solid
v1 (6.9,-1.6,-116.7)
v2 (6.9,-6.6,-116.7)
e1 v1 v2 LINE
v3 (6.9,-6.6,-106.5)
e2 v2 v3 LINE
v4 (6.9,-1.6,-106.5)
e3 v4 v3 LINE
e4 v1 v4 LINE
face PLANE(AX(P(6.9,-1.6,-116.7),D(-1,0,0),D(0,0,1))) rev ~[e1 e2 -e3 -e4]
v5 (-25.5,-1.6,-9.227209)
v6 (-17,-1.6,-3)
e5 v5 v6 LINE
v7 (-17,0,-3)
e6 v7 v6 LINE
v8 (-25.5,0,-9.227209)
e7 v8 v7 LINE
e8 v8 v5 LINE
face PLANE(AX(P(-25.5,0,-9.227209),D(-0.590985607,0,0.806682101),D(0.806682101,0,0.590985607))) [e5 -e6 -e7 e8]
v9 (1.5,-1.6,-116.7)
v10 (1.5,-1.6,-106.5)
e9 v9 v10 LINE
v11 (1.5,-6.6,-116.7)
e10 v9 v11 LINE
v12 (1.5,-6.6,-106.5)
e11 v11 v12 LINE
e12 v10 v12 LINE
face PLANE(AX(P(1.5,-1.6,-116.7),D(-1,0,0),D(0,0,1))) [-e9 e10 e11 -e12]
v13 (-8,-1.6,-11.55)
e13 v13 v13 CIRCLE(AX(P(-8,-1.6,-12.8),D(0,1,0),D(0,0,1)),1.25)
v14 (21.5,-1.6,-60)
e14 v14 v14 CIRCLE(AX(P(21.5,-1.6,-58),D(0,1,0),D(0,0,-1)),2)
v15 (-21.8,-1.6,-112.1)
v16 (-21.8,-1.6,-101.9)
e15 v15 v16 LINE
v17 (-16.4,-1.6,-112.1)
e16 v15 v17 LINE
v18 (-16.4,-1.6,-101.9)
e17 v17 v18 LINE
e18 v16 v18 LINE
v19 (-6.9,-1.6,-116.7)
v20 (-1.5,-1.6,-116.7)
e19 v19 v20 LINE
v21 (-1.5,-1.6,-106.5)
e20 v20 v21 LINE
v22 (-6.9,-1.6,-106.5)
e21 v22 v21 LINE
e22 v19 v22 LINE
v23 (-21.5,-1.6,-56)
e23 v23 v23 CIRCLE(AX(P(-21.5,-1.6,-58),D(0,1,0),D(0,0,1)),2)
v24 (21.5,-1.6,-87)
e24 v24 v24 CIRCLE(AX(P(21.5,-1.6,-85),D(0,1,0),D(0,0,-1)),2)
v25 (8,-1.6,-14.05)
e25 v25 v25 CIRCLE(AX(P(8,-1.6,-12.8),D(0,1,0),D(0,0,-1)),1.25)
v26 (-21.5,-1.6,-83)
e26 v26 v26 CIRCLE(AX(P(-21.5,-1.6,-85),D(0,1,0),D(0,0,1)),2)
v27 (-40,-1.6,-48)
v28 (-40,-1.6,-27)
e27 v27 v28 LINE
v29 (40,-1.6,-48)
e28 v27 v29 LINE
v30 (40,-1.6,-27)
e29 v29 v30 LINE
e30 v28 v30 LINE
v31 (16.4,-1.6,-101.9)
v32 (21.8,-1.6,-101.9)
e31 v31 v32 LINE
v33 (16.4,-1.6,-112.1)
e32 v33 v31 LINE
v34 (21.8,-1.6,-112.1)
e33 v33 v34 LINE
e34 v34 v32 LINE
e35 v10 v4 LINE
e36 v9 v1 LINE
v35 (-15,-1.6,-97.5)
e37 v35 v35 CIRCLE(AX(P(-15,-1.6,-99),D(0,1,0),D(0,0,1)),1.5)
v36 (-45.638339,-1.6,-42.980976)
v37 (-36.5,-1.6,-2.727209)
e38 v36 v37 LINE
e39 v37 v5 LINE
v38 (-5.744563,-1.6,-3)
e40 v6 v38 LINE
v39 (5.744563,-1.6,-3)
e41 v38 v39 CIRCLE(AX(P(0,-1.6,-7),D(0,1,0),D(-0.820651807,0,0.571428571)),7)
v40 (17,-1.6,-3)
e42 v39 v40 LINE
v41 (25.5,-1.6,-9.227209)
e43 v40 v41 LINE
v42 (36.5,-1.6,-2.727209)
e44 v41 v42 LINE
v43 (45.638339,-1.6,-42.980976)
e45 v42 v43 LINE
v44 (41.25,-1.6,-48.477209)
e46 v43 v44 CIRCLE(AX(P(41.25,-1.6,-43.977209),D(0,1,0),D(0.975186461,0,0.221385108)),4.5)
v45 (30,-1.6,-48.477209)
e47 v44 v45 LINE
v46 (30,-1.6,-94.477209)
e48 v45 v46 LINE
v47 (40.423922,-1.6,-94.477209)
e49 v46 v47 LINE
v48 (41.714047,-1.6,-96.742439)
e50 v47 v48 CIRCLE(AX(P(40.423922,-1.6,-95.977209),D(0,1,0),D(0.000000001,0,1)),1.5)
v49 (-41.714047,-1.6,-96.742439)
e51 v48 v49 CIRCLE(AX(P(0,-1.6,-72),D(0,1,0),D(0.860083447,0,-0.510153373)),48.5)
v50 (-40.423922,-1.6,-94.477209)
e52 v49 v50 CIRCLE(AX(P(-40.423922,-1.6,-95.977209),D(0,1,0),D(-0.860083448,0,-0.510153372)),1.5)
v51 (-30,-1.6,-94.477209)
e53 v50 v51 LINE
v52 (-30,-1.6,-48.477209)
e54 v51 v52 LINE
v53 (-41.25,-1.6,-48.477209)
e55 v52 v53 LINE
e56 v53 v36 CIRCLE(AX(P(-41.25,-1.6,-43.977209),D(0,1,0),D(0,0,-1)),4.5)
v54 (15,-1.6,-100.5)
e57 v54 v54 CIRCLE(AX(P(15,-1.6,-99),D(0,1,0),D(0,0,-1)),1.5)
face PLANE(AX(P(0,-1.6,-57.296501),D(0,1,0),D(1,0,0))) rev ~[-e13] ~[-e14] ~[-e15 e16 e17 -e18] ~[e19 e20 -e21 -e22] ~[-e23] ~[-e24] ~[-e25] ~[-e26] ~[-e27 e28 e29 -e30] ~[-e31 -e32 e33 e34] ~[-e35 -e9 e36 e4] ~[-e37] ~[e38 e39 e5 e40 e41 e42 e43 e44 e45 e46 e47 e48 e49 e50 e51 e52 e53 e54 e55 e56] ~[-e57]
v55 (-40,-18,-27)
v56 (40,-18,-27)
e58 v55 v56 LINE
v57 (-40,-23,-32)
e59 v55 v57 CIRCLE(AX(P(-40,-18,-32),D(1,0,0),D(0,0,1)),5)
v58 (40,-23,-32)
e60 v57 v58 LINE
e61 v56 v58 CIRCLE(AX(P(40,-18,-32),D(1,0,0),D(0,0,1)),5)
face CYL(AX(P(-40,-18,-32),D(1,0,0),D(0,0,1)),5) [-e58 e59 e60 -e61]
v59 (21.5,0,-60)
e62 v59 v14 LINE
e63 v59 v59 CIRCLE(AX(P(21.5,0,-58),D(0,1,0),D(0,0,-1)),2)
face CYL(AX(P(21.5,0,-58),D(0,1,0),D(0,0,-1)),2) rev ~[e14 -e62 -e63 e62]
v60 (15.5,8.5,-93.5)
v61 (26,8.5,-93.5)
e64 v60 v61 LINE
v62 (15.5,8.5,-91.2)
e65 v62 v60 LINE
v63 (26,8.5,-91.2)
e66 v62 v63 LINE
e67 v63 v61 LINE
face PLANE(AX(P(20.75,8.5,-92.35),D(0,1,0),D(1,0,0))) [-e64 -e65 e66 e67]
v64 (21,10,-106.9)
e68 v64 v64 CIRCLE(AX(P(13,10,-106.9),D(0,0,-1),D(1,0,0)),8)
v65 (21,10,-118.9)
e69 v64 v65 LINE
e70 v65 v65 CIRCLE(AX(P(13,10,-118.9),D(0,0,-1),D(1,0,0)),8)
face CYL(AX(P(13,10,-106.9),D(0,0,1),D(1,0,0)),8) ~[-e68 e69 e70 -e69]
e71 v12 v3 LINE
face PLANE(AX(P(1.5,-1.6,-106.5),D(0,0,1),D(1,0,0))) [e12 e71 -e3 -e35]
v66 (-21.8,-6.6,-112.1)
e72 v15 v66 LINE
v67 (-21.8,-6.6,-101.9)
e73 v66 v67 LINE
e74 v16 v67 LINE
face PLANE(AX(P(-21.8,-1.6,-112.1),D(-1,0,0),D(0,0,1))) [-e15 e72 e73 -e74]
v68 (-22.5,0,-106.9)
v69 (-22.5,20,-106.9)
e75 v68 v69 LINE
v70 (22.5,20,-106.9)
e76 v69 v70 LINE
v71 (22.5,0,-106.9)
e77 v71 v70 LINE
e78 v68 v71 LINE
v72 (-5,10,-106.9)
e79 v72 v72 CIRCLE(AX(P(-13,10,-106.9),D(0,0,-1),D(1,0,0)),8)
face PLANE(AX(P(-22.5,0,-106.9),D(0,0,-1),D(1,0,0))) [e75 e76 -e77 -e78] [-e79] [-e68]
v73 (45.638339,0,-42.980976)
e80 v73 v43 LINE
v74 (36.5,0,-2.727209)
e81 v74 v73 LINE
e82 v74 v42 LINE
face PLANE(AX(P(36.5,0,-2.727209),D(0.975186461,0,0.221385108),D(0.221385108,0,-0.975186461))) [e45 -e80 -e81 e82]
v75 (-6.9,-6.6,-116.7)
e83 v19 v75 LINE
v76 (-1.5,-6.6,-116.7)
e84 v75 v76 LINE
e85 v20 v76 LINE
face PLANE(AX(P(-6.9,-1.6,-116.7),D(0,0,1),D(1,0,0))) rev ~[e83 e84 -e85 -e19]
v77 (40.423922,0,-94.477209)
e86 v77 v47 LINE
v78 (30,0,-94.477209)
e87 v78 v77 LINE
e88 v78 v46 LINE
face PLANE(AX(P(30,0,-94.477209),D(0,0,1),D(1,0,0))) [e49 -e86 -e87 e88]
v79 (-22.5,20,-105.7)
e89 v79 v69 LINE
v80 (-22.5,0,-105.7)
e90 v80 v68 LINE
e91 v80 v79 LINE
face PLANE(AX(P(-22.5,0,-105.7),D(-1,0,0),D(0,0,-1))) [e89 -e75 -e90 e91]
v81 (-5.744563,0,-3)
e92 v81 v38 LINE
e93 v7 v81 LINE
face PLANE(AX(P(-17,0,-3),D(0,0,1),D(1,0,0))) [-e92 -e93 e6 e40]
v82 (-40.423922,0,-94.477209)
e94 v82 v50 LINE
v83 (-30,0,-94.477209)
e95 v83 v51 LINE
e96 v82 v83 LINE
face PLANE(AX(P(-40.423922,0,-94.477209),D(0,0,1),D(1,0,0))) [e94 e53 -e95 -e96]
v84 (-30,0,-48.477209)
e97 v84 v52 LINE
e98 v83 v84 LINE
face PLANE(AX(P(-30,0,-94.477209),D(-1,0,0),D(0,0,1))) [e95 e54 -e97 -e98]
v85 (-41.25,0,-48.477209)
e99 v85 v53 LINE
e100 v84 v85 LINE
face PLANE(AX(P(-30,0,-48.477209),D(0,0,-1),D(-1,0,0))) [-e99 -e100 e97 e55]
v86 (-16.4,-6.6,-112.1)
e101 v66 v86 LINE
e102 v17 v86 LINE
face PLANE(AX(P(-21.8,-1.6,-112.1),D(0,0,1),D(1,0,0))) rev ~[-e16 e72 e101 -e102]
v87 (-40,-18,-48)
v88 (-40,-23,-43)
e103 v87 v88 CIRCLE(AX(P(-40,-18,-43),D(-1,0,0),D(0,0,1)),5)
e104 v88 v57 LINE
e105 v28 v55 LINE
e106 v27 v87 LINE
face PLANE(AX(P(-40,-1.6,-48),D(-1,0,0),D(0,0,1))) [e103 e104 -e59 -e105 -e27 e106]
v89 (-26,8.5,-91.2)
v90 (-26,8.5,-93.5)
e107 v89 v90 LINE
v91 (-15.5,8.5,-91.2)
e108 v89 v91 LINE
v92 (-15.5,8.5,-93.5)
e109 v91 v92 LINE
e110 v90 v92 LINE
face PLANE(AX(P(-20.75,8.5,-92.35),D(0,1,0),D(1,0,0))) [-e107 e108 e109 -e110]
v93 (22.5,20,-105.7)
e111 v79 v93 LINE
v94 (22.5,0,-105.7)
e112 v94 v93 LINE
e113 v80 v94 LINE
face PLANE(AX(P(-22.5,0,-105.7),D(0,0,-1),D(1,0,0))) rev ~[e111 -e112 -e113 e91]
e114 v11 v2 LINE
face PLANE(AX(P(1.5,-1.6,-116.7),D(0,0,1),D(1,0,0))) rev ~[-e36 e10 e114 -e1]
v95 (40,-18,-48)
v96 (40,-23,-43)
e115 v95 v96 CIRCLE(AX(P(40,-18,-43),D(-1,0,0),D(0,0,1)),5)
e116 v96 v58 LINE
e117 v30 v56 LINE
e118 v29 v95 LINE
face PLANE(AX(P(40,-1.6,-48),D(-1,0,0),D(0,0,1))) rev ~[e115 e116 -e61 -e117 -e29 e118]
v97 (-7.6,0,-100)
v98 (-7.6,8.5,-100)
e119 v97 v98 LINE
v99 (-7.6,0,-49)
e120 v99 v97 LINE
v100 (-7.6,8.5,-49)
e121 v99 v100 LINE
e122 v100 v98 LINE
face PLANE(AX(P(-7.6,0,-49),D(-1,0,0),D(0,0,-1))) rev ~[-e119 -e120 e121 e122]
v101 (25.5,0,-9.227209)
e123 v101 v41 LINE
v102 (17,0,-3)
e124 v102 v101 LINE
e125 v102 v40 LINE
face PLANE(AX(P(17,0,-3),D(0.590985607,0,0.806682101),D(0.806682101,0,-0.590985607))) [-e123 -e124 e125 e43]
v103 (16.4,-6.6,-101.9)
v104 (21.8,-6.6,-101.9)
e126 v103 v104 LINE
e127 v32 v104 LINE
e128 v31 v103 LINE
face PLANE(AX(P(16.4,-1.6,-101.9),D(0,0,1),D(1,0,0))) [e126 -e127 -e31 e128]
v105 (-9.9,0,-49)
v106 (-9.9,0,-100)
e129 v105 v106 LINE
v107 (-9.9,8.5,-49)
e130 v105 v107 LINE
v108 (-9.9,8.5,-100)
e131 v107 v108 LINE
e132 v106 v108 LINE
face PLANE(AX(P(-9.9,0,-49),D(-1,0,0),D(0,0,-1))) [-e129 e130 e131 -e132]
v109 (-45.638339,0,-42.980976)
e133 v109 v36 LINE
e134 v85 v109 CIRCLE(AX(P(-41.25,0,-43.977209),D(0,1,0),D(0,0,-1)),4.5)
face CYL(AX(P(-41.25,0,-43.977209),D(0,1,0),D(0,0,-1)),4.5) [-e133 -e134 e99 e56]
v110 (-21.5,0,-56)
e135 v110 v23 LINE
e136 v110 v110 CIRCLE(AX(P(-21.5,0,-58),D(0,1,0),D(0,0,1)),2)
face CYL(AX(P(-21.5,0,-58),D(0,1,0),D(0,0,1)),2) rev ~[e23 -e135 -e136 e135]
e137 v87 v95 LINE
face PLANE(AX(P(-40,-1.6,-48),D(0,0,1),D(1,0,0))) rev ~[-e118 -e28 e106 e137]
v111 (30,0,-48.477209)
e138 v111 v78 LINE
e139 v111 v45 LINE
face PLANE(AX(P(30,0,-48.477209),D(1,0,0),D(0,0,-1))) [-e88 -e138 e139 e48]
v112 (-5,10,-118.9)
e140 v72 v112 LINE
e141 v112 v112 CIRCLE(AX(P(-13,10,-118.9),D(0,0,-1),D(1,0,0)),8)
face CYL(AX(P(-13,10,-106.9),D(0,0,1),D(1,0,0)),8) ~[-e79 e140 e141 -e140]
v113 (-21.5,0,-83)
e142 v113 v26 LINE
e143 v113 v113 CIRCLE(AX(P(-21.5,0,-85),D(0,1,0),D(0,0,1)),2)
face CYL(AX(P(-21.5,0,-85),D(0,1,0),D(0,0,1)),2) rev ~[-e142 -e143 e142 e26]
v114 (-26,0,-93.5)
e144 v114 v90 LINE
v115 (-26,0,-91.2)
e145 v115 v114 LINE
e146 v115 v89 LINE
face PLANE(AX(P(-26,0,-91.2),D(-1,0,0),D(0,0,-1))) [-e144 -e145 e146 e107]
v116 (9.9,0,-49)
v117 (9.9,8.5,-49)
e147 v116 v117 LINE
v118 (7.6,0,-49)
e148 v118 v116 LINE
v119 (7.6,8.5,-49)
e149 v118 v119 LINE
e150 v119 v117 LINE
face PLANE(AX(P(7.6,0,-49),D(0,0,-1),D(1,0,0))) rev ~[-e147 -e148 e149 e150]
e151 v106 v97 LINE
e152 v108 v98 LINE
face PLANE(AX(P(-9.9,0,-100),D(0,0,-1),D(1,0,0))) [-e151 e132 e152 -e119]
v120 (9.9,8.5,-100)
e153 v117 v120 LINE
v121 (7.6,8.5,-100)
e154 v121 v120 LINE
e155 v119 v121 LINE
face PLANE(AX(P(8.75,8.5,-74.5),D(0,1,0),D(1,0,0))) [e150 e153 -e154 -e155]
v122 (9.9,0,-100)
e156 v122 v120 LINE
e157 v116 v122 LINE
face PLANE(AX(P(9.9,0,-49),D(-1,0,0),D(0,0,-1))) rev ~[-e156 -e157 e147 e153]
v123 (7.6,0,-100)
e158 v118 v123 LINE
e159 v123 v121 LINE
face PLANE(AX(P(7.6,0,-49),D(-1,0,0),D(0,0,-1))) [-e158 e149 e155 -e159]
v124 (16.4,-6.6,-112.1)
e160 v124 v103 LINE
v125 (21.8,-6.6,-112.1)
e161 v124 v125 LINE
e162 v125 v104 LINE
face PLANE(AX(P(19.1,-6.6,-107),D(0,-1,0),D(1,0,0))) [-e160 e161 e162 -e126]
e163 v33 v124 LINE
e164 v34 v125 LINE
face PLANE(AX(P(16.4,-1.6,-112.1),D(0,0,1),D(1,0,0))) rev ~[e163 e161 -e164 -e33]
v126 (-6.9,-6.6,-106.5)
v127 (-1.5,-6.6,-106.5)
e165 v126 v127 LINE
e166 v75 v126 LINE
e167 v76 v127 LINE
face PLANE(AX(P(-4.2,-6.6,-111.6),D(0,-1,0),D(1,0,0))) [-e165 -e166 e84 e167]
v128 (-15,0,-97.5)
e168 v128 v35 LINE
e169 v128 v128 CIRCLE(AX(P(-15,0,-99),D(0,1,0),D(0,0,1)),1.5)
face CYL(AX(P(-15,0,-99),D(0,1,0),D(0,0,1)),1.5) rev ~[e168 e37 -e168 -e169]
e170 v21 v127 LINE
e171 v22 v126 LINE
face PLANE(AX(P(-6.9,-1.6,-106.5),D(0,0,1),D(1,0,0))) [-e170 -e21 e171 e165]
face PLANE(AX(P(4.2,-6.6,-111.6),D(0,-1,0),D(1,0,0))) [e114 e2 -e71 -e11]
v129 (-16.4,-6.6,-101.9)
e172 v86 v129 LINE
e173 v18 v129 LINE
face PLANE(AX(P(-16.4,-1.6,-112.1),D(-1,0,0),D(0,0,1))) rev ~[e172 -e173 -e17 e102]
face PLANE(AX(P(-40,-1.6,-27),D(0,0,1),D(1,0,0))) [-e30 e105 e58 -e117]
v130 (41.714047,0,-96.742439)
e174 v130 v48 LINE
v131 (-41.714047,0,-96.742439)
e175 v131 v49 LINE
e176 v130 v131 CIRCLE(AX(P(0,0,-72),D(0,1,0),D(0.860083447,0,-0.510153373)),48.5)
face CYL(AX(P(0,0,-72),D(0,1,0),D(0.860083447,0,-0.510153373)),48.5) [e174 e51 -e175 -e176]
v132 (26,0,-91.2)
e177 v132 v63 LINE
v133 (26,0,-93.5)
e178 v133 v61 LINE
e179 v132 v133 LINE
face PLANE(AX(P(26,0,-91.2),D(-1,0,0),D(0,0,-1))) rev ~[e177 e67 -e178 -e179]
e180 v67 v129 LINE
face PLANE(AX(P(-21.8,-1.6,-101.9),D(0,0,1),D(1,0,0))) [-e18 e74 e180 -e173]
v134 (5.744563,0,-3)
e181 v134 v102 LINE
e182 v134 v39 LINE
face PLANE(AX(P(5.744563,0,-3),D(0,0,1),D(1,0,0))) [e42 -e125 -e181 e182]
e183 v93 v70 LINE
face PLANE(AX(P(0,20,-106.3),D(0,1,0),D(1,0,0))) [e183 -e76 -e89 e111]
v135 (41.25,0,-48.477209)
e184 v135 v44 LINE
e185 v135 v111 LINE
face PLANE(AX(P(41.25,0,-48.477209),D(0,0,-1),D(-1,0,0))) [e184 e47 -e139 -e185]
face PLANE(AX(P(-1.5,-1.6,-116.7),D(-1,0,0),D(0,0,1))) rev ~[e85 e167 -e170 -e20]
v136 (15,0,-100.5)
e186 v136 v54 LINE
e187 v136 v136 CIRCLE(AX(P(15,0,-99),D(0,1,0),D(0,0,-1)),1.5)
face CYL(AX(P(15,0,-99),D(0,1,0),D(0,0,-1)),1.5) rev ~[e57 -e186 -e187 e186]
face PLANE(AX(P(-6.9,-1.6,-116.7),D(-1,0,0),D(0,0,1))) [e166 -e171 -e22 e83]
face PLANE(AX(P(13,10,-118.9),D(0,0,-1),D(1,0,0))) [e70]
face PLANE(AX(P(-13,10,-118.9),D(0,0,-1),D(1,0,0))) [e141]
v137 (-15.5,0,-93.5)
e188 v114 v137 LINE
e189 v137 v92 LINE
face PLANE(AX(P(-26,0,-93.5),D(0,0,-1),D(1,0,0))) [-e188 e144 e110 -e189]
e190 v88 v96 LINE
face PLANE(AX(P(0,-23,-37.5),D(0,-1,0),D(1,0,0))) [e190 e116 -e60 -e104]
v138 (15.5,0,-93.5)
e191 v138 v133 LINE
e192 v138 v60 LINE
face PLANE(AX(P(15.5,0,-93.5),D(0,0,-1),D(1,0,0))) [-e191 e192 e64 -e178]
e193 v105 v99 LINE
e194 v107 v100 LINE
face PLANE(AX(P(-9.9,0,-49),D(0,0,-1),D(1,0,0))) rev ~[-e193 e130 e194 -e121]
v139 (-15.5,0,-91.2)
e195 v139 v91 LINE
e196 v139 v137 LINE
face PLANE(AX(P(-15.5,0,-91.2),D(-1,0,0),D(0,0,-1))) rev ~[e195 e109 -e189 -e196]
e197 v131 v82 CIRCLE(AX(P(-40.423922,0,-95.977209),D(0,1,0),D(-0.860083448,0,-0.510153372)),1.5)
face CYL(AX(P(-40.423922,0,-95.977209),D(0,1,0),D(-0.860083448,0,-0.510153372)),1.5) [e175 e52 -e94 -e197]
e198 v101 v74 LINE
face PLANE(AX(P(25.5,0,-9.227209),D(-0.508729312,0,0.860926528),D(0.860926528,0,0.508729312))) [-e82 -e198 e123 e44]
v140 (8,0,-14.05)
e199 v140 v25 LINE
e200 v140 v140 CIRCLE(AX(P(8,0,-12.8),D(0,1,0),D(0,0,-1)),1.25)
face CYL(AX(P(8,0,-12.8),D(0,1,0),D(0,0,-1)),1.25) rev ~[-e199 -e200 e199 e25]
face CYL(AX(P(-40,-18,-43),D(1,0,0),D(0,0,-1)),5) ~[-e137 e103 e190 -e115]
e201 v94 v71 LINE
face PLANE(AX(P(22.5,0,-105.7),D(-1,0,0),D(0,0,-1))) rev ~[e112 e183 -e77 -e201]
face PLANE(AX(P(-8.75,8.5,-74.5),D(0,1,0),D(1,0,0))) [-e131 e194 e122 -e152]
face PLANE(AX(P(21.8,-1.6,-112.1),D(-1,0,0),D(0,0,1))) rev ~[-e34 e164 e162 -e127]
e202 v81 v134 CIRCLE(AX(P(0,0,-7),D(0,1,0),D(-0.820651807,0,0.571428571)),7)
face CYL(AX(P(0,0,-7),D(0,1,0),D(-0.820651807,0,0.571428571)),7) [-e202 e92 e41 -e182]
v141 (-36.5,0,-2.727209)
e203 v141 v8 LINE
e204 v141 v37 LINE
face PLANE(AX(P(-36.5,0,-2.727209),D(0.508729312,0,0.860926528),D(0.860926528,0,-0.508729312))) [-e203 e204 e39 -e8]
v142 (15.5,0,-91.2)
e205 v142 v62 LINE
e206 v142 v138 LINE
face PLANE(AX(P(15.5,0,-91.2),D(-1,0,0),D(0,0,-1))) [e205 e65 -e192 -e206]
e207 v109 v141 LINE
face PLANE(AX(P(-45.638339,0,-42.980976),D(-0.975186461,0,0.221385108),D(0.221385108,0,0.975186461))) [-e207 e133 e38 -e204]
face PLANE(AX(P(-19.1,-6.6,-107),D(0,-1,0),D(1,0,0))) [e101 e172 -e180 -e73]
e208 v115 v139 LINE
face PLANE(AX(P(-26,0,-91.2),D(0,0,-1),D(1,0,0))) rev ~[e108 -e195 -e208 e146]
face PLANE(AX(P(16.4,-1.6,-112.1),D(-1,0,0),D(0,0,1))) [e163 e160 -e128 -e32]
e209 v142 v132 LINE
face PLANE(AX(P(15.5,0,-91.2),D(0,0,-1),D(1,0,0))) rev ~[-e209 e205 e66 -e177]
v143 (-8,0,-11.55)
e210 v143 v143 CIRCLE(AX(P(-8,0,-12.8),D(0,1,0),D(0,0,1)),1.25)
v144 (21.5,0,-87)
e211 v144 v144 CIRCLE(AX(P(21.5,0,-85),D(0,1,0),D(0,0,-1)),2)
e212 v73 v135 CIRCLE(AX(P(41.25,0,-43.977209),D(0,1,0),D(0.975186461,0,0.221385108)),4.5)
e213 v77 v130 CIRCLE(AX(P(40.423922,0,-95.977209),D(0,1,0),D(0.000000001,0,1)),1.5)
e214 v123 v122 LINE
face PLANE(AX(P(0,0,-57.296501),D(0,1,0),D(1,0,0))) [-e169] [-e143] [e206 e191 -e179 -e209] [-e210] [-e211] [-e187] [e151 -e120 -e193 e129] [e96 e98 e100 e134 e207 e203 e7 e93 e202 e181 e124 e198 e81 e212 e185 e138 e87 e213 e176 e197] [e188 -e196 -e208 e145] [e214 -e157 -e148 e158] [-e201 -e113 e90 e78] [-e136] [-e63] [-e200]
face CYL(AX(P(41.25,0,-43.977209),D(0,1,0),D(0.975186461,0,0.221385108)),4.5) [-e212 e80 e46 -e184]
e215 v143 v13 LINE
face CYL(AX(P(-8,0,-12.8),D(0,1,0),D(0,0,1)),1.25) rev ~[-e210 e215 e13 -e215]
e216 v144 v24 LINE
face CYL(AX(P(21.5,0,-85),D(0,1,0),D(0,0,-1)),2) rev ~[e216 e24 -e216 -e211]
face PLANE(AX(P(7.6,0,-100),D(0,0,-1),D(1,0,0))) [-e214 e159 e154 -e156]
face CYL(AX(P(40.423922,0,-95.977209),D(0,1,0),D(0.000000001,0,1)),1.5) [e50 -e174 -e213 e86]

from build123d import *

# Parameters (mm, degrees)
BOSS_EXTRUDE1_DEPTH = 1.6
SKETCH6_W           = 45
SKETCH6_H           = 1.2
BOSS_EXTRUDE2_DEPTH = 20
SKETCH7_R           = 8
BOSS_EXTRUDE3_DEPTH = 12
SKETCH10_W          = 80
SKETCH10_H          = 21
BOSS_EXTRUDE4_DEPTH = 21.4
FILLET1_R           = 5
CUT_EXTRUDE1_REACH  = 132.929
SKETCH11_R          = 1.25
SKETCH11_R_2        = 2
SKETCH11_R_3        = 1.5
SKETCH12_W          = 2.3
SKETCH12_H          = 51
SKETCH12_W_2        = 10.5
SKETCH12_H_2        = 2.3
BOSS_EXTRUDE5_DEPTH = 8.5
SKETCH13_W          = 5.4
SKETCH13_H          = 10.2
BOSS_EXTRUDE7_DEPTH = 5


with BuildPart() as part:
    # Sketch5 → Boss-Extrude1 (new body)
    with BuildSketch(Plane(origin=(0, 0, 0), x_dir=(1, 0, 0), z_dir=(0, 1, 0))):
        with BuildLine():
            Line((-25.5, 9.227208522), (-17, 3))
            Line((-17, 3), (-5.744562647, 3))
            ThreePointArc((-5.744562647, 3), (0, 0), (5.744562647, 3))
            Line((5.744562647, 3), (17, 3))
            Line((17, 3), (25.5, 9.227208522))
            Line((25.5, 9.227208522), (36.5, 2.727208522))
            Line((36.5, 2.727208522), (45.638339075, 42.980975538))
            ThreePointArc((45.638339075, 42.980975538), (44.766606918, 46.784961322), (41.25, 48.477208522))
            Line((41.25, 48.477208522), (30, 48.477208522))
            Line((30, 48.477208522), (30, 94.477208522))
            Line((30, 94.477208522), (40.42392202, 94.477208522))
            ThreePointArc((40.42392202, 94.477208522), (41.72734925, 95.234862609), (41.714047191, 96.742438582))
            ThreePointArc((41.714047191, 96.742438582), (0, 120.5), (-41.714047191, 96.742438582))
            ThreePointArc((-41.714047191, 96.742438582), (-41.72734925, 95.234862609), (-40.42392202, 94.477208522))
            Line((-40.42392202, 94.477208522), (-30, 94.477208522))
            Line((-30, 94.477208522), (-30, 48.477208522))
            Line((-30, 48.477208522), (-41.25, 48.477208522))
            ThreePointArc((-41.25, 48.477208522), (-44.766606918, 46.784961322), (-45.638339075, 42.980975538))
            Line((-45.638339075, 42.980975538), (-36.5, 2.727208522))
            Line((-36.5, 2.727208522), (-25.5, 9.227208522))
        make_face()
    extrude(amount=-BOSS_EXTRUDE1_DEPTH)

    # Sketch6 → Boss-Extrude2 (add)
    with BuildSketch(Plane(origin=(0, 0, 0), x_dir=(1, 0, 0), z_dir=(0, 1, 0))):
        with Locations((0, 106.3)):
            Rectangle(SKETCH6_W, SKETCH6_H)
    extrude(amount=BOSS_EXTRUDE2_DEPTH)

    # Sketch7 → Boss-Extrude3 (add)
    with BuildSketch(Plane(origin=(0, 0, -106.9), x_dir=(-1, 0, 0), z_dir=(0, 0, -1))):
        with Locations(Location((-13, 10, 0), (0, 0, 180))):
            Circle(SKETCH7_R)
        with Locations(Location((13, 10, 0), (0, 0, 180))):
            Circle(SKETCH7_R)
    extrude(amount=BOSS_EXTRUDE3_DEPTH)

    # Sketch10 → Boss-Extrude4 (add)
    with BuildSketch(Plane.XZ.offset(1.6)):
        with Locations((0, -37.5)):
            Rectangle(SKETCH10_W, SKETCH10_H)
    extrude(amount=BOSS_EXTRUDE4_DEPTH)

    # Fillet1
    fillet1_edges = [part.edges().sort_by_distance(p)[0] for p in [
        (0, -23, -48),
        (0, -23, -27),
    ]]
    fillet(fillet1_edges, radius=FILLET1_R)

    # Sketch11 → Cut-Extrude1 (cut, up to next)
    with BuildSketch(Plane(origin=(0, 0, 0), x_dir=(1, 0, 0), z_dir=(0, 1, 0)), mode=Mode.PRIVATE) as cut_extrude1_sk1:
        with Locations(Location((-8, 12.8, 0), (0, 0, 270))):
            Circle(SKETCH11_R)
    cut_extrude1_tool1 = extrude(cut_extrude1_sk1.sketch, amount=-CUT_EXTRUDE1_REACH, mode=Mode.PRIVATE) & part.part
    # Sketch11 → Cut-Extrude1 (cut, up to next)
    with BuildSketch(Plane(origin=(0, 0, 0), x_dir=(1, 0, 0), z_dir=(0, 1, 0)), mode=Mode.PRIVATE) as cut_extrude1_sk2:
        with Locations(Location((-21.5, 58, 0), (0, 0, 270))):
            Circle(SKETCH11_R_2)
    cut_extrude1_tool2 = extrude(cut_extrude1_sk2.sketch, amount=-CUT_EXTRUDE1_REACH, mode=Mode.PRIVATE) & part.part
    # Sketch11 → Cut-Extrude1 (cut, up to next)
    with BuildSketch(Plane(origin=(0, 0, 0), x_dir=(1, 0, 0), z_dir=(0, 1, 0)), mode=Mode.PRIVATE) as cut_extrude1_sk3:
        with Locations(Location((-21.5, 85, 0), (0, 0, 270))):
            Circle(SKETCH11_R_2)
    cut_extrude1_tool3 = extrude(cut_extrude1_sk3.sketch, amount=-CUT_EXTRUDE1_REACH, mode=Mode.PRIVATE) & part.part
    # Sketch11 → Cut-Extrude1 (cut, up to next)
    with BuildSketch(Plane(origin=(0, 0, 0), x_dir=(1, 0, 0), z_dir=(0, 1, 0)), mode=Mode.PRIVATE) as cut_extrude1_sk4:
        with Locations(Location((-15, 99, 0), (0, 0, 270))):
            Circle(SKETCH11_R_3)
    cut_extrude1_tool4 = extrude(cut_extrude1_sk4.sketch, amount=-CUT_EXTRUDE1_REACH, mode=Mode.PRIVATE) & part.part
    # Sketch11 → Cut-Extrude1 (cut, up to next)
    with BuildSketch(Plane(origin=(0, 0, 0), x_dir=(1, 0, 0), z_dir=(0, 1, 0)), mode=Mode.PRIVATE) as cut_extrude1_sk5:
        with Locations(Location((15, 99, 0), (0, 0, 90))):
            Circle(SKETCH11_R_3)
    cut_extrude1_tool5 = extrude(cut_extrude1_sk5.sketch, amount=-CUT_EXTRUDE1_REACH, mode=Mode.PRIVATE) & part.part
    # Sketch11 → Cut-Extrude1 (cut, up to next)
    with BuildSketch(Plane(origin=(0, 0, 0), x_dir=(1, 0, 0), z_dir=(0, 1, 0)), mode=Mode.PRIVATE) as cut_extrude1_sk6:
        with Locations(Location((21.5, 85, 0), (0, 0, 90))):
            Circle(SKETCH11_R_2)
    cut_extrude1_tool6 = extrude(cut_extrude1_sk6.sketch, amount=-CUT_EXTRUDE1_REACH, mode=Mode.PRIVATE) & part.part
    # Sketch11 → Cut-Extrude1 (cut, up to next)
    with BuildSketch(Plane(origin=(0, 0, 0), x_dir=(1, 0, 0), z_dir=(0, 1, 0)), mode=Mode.PRIVATE) as cut_extrude1_sk7:
        with Locations(Location((21.5, 58, 0), (0, 0, 90))):
            Circle(SKETCH11_R_2)
    cut_extrude1_tool7 = extrude(cut_extrude1_sk7.sketch, amount=-CUT_EXTRUDE1_REACH, mode=Mode.PRIVATE) & part.part
    # Sketch11 → Cut-Extrude1 (cut, up to next)
    with BuildSketch(Plane(origin=(0, 0, 0), x_dir=(1, 0, 0), z_dir=(0, 1, 0)), mode=Mode.PRIVATE) as cut_extrude1_sk8:
        with Locations(Location((8, 12.8, 0), (0, 0, 90))):
            Circle(SKETCH11_R)
    cut_extrude1_tool8 = extrude(cut_extrude1_sk8.sketch, amount=-CUT_EXTRUDE1_REACH, mode=Mode.PRIVATE) & part.part
    add(cut_extrude1_tool1.solids().sort_by_distance((-8, 0, -12.8))[0], mode=Mode.SUBTRACT)
    add(cut_extrude1_tool2.solids().sort_by_distance((-21.5, 0, -58))[0], mode=Mode.SUBTRACT)
    add(cut_extrude1_tool3.solids().sort_by_distance((-21.5, 0, -85))[0], mode=Mode.SUBTRACT)
    add(cut_extrude1_tool4.solids().sort_by_distance((-15, 0, -99))[0], mode=Mode.SUBTRACT)
    add(cut_extrude1_tool5.solids().sort_by_distance((15, 0, -99))[0], mode=Mode.SUBTRACT)
    add(cut_extrude1_tool6.solids().sort_by_distance((21.5, 0, -85))[0], mode=Mode.SUBTRACT)
    add(cut_extrude1_tool7.solids().sort_by_distance((21.5, 0, -58))[0], mode=Mode.SUBTRACT)
    add(cut_extrude1_tool8.solids().sort_by_distance((8, 0, -12.8))[0], mode=Mode.SUBTRACT)

    # Sketch12 → Boss-Extrude5 (add)
    with BuildSketch(Plane(origin=(0, 0, 0), x_dir=(1, 0, 0), z_dir=(0, 1, 0))):
        with Locations((-8.75, 74.5)):
            Rectangle(SKETCH12_W, SKETCH12_H)
        with Locations((-20.75, 92.35)):
            Rectangle(SKETCH12_W_2, SKETCH12_H_2)
        with Locations((20.75, 92.35)):
            Rectangle(SKETCH12_W_2, SKETCH12_H_2)
        with Locations((8.75, 74.5)):
            Rectangle(SKETCH12_W, SKETCH12_H)
    extrude(amount=BOSS_EXTRUDE5_DEPTH)

    # Sketch13 → Boss-Extrude7 (add)
    with BuildSketch(Plane.XZ.offset(1.6)):
        with Locations((4.2, -111.6)):
            Rectangle(SKETCH13_W, SKETCH13_H)
        with Locations((-4.2, -111.6)):
            Rectangle(SKETCH13_W, SKETCH13_H)
        with Locations((-19.1, -107)):
            Rectangle(SKETCH13_W, SKETCH13_H)
        with Locations((19.1, -107)):
            Rectangle(SKETCH13_W, SKETCH13_H)
    extrude(amount=BOSS_EXTRUDE7_DEPTH)


solid = part.part
